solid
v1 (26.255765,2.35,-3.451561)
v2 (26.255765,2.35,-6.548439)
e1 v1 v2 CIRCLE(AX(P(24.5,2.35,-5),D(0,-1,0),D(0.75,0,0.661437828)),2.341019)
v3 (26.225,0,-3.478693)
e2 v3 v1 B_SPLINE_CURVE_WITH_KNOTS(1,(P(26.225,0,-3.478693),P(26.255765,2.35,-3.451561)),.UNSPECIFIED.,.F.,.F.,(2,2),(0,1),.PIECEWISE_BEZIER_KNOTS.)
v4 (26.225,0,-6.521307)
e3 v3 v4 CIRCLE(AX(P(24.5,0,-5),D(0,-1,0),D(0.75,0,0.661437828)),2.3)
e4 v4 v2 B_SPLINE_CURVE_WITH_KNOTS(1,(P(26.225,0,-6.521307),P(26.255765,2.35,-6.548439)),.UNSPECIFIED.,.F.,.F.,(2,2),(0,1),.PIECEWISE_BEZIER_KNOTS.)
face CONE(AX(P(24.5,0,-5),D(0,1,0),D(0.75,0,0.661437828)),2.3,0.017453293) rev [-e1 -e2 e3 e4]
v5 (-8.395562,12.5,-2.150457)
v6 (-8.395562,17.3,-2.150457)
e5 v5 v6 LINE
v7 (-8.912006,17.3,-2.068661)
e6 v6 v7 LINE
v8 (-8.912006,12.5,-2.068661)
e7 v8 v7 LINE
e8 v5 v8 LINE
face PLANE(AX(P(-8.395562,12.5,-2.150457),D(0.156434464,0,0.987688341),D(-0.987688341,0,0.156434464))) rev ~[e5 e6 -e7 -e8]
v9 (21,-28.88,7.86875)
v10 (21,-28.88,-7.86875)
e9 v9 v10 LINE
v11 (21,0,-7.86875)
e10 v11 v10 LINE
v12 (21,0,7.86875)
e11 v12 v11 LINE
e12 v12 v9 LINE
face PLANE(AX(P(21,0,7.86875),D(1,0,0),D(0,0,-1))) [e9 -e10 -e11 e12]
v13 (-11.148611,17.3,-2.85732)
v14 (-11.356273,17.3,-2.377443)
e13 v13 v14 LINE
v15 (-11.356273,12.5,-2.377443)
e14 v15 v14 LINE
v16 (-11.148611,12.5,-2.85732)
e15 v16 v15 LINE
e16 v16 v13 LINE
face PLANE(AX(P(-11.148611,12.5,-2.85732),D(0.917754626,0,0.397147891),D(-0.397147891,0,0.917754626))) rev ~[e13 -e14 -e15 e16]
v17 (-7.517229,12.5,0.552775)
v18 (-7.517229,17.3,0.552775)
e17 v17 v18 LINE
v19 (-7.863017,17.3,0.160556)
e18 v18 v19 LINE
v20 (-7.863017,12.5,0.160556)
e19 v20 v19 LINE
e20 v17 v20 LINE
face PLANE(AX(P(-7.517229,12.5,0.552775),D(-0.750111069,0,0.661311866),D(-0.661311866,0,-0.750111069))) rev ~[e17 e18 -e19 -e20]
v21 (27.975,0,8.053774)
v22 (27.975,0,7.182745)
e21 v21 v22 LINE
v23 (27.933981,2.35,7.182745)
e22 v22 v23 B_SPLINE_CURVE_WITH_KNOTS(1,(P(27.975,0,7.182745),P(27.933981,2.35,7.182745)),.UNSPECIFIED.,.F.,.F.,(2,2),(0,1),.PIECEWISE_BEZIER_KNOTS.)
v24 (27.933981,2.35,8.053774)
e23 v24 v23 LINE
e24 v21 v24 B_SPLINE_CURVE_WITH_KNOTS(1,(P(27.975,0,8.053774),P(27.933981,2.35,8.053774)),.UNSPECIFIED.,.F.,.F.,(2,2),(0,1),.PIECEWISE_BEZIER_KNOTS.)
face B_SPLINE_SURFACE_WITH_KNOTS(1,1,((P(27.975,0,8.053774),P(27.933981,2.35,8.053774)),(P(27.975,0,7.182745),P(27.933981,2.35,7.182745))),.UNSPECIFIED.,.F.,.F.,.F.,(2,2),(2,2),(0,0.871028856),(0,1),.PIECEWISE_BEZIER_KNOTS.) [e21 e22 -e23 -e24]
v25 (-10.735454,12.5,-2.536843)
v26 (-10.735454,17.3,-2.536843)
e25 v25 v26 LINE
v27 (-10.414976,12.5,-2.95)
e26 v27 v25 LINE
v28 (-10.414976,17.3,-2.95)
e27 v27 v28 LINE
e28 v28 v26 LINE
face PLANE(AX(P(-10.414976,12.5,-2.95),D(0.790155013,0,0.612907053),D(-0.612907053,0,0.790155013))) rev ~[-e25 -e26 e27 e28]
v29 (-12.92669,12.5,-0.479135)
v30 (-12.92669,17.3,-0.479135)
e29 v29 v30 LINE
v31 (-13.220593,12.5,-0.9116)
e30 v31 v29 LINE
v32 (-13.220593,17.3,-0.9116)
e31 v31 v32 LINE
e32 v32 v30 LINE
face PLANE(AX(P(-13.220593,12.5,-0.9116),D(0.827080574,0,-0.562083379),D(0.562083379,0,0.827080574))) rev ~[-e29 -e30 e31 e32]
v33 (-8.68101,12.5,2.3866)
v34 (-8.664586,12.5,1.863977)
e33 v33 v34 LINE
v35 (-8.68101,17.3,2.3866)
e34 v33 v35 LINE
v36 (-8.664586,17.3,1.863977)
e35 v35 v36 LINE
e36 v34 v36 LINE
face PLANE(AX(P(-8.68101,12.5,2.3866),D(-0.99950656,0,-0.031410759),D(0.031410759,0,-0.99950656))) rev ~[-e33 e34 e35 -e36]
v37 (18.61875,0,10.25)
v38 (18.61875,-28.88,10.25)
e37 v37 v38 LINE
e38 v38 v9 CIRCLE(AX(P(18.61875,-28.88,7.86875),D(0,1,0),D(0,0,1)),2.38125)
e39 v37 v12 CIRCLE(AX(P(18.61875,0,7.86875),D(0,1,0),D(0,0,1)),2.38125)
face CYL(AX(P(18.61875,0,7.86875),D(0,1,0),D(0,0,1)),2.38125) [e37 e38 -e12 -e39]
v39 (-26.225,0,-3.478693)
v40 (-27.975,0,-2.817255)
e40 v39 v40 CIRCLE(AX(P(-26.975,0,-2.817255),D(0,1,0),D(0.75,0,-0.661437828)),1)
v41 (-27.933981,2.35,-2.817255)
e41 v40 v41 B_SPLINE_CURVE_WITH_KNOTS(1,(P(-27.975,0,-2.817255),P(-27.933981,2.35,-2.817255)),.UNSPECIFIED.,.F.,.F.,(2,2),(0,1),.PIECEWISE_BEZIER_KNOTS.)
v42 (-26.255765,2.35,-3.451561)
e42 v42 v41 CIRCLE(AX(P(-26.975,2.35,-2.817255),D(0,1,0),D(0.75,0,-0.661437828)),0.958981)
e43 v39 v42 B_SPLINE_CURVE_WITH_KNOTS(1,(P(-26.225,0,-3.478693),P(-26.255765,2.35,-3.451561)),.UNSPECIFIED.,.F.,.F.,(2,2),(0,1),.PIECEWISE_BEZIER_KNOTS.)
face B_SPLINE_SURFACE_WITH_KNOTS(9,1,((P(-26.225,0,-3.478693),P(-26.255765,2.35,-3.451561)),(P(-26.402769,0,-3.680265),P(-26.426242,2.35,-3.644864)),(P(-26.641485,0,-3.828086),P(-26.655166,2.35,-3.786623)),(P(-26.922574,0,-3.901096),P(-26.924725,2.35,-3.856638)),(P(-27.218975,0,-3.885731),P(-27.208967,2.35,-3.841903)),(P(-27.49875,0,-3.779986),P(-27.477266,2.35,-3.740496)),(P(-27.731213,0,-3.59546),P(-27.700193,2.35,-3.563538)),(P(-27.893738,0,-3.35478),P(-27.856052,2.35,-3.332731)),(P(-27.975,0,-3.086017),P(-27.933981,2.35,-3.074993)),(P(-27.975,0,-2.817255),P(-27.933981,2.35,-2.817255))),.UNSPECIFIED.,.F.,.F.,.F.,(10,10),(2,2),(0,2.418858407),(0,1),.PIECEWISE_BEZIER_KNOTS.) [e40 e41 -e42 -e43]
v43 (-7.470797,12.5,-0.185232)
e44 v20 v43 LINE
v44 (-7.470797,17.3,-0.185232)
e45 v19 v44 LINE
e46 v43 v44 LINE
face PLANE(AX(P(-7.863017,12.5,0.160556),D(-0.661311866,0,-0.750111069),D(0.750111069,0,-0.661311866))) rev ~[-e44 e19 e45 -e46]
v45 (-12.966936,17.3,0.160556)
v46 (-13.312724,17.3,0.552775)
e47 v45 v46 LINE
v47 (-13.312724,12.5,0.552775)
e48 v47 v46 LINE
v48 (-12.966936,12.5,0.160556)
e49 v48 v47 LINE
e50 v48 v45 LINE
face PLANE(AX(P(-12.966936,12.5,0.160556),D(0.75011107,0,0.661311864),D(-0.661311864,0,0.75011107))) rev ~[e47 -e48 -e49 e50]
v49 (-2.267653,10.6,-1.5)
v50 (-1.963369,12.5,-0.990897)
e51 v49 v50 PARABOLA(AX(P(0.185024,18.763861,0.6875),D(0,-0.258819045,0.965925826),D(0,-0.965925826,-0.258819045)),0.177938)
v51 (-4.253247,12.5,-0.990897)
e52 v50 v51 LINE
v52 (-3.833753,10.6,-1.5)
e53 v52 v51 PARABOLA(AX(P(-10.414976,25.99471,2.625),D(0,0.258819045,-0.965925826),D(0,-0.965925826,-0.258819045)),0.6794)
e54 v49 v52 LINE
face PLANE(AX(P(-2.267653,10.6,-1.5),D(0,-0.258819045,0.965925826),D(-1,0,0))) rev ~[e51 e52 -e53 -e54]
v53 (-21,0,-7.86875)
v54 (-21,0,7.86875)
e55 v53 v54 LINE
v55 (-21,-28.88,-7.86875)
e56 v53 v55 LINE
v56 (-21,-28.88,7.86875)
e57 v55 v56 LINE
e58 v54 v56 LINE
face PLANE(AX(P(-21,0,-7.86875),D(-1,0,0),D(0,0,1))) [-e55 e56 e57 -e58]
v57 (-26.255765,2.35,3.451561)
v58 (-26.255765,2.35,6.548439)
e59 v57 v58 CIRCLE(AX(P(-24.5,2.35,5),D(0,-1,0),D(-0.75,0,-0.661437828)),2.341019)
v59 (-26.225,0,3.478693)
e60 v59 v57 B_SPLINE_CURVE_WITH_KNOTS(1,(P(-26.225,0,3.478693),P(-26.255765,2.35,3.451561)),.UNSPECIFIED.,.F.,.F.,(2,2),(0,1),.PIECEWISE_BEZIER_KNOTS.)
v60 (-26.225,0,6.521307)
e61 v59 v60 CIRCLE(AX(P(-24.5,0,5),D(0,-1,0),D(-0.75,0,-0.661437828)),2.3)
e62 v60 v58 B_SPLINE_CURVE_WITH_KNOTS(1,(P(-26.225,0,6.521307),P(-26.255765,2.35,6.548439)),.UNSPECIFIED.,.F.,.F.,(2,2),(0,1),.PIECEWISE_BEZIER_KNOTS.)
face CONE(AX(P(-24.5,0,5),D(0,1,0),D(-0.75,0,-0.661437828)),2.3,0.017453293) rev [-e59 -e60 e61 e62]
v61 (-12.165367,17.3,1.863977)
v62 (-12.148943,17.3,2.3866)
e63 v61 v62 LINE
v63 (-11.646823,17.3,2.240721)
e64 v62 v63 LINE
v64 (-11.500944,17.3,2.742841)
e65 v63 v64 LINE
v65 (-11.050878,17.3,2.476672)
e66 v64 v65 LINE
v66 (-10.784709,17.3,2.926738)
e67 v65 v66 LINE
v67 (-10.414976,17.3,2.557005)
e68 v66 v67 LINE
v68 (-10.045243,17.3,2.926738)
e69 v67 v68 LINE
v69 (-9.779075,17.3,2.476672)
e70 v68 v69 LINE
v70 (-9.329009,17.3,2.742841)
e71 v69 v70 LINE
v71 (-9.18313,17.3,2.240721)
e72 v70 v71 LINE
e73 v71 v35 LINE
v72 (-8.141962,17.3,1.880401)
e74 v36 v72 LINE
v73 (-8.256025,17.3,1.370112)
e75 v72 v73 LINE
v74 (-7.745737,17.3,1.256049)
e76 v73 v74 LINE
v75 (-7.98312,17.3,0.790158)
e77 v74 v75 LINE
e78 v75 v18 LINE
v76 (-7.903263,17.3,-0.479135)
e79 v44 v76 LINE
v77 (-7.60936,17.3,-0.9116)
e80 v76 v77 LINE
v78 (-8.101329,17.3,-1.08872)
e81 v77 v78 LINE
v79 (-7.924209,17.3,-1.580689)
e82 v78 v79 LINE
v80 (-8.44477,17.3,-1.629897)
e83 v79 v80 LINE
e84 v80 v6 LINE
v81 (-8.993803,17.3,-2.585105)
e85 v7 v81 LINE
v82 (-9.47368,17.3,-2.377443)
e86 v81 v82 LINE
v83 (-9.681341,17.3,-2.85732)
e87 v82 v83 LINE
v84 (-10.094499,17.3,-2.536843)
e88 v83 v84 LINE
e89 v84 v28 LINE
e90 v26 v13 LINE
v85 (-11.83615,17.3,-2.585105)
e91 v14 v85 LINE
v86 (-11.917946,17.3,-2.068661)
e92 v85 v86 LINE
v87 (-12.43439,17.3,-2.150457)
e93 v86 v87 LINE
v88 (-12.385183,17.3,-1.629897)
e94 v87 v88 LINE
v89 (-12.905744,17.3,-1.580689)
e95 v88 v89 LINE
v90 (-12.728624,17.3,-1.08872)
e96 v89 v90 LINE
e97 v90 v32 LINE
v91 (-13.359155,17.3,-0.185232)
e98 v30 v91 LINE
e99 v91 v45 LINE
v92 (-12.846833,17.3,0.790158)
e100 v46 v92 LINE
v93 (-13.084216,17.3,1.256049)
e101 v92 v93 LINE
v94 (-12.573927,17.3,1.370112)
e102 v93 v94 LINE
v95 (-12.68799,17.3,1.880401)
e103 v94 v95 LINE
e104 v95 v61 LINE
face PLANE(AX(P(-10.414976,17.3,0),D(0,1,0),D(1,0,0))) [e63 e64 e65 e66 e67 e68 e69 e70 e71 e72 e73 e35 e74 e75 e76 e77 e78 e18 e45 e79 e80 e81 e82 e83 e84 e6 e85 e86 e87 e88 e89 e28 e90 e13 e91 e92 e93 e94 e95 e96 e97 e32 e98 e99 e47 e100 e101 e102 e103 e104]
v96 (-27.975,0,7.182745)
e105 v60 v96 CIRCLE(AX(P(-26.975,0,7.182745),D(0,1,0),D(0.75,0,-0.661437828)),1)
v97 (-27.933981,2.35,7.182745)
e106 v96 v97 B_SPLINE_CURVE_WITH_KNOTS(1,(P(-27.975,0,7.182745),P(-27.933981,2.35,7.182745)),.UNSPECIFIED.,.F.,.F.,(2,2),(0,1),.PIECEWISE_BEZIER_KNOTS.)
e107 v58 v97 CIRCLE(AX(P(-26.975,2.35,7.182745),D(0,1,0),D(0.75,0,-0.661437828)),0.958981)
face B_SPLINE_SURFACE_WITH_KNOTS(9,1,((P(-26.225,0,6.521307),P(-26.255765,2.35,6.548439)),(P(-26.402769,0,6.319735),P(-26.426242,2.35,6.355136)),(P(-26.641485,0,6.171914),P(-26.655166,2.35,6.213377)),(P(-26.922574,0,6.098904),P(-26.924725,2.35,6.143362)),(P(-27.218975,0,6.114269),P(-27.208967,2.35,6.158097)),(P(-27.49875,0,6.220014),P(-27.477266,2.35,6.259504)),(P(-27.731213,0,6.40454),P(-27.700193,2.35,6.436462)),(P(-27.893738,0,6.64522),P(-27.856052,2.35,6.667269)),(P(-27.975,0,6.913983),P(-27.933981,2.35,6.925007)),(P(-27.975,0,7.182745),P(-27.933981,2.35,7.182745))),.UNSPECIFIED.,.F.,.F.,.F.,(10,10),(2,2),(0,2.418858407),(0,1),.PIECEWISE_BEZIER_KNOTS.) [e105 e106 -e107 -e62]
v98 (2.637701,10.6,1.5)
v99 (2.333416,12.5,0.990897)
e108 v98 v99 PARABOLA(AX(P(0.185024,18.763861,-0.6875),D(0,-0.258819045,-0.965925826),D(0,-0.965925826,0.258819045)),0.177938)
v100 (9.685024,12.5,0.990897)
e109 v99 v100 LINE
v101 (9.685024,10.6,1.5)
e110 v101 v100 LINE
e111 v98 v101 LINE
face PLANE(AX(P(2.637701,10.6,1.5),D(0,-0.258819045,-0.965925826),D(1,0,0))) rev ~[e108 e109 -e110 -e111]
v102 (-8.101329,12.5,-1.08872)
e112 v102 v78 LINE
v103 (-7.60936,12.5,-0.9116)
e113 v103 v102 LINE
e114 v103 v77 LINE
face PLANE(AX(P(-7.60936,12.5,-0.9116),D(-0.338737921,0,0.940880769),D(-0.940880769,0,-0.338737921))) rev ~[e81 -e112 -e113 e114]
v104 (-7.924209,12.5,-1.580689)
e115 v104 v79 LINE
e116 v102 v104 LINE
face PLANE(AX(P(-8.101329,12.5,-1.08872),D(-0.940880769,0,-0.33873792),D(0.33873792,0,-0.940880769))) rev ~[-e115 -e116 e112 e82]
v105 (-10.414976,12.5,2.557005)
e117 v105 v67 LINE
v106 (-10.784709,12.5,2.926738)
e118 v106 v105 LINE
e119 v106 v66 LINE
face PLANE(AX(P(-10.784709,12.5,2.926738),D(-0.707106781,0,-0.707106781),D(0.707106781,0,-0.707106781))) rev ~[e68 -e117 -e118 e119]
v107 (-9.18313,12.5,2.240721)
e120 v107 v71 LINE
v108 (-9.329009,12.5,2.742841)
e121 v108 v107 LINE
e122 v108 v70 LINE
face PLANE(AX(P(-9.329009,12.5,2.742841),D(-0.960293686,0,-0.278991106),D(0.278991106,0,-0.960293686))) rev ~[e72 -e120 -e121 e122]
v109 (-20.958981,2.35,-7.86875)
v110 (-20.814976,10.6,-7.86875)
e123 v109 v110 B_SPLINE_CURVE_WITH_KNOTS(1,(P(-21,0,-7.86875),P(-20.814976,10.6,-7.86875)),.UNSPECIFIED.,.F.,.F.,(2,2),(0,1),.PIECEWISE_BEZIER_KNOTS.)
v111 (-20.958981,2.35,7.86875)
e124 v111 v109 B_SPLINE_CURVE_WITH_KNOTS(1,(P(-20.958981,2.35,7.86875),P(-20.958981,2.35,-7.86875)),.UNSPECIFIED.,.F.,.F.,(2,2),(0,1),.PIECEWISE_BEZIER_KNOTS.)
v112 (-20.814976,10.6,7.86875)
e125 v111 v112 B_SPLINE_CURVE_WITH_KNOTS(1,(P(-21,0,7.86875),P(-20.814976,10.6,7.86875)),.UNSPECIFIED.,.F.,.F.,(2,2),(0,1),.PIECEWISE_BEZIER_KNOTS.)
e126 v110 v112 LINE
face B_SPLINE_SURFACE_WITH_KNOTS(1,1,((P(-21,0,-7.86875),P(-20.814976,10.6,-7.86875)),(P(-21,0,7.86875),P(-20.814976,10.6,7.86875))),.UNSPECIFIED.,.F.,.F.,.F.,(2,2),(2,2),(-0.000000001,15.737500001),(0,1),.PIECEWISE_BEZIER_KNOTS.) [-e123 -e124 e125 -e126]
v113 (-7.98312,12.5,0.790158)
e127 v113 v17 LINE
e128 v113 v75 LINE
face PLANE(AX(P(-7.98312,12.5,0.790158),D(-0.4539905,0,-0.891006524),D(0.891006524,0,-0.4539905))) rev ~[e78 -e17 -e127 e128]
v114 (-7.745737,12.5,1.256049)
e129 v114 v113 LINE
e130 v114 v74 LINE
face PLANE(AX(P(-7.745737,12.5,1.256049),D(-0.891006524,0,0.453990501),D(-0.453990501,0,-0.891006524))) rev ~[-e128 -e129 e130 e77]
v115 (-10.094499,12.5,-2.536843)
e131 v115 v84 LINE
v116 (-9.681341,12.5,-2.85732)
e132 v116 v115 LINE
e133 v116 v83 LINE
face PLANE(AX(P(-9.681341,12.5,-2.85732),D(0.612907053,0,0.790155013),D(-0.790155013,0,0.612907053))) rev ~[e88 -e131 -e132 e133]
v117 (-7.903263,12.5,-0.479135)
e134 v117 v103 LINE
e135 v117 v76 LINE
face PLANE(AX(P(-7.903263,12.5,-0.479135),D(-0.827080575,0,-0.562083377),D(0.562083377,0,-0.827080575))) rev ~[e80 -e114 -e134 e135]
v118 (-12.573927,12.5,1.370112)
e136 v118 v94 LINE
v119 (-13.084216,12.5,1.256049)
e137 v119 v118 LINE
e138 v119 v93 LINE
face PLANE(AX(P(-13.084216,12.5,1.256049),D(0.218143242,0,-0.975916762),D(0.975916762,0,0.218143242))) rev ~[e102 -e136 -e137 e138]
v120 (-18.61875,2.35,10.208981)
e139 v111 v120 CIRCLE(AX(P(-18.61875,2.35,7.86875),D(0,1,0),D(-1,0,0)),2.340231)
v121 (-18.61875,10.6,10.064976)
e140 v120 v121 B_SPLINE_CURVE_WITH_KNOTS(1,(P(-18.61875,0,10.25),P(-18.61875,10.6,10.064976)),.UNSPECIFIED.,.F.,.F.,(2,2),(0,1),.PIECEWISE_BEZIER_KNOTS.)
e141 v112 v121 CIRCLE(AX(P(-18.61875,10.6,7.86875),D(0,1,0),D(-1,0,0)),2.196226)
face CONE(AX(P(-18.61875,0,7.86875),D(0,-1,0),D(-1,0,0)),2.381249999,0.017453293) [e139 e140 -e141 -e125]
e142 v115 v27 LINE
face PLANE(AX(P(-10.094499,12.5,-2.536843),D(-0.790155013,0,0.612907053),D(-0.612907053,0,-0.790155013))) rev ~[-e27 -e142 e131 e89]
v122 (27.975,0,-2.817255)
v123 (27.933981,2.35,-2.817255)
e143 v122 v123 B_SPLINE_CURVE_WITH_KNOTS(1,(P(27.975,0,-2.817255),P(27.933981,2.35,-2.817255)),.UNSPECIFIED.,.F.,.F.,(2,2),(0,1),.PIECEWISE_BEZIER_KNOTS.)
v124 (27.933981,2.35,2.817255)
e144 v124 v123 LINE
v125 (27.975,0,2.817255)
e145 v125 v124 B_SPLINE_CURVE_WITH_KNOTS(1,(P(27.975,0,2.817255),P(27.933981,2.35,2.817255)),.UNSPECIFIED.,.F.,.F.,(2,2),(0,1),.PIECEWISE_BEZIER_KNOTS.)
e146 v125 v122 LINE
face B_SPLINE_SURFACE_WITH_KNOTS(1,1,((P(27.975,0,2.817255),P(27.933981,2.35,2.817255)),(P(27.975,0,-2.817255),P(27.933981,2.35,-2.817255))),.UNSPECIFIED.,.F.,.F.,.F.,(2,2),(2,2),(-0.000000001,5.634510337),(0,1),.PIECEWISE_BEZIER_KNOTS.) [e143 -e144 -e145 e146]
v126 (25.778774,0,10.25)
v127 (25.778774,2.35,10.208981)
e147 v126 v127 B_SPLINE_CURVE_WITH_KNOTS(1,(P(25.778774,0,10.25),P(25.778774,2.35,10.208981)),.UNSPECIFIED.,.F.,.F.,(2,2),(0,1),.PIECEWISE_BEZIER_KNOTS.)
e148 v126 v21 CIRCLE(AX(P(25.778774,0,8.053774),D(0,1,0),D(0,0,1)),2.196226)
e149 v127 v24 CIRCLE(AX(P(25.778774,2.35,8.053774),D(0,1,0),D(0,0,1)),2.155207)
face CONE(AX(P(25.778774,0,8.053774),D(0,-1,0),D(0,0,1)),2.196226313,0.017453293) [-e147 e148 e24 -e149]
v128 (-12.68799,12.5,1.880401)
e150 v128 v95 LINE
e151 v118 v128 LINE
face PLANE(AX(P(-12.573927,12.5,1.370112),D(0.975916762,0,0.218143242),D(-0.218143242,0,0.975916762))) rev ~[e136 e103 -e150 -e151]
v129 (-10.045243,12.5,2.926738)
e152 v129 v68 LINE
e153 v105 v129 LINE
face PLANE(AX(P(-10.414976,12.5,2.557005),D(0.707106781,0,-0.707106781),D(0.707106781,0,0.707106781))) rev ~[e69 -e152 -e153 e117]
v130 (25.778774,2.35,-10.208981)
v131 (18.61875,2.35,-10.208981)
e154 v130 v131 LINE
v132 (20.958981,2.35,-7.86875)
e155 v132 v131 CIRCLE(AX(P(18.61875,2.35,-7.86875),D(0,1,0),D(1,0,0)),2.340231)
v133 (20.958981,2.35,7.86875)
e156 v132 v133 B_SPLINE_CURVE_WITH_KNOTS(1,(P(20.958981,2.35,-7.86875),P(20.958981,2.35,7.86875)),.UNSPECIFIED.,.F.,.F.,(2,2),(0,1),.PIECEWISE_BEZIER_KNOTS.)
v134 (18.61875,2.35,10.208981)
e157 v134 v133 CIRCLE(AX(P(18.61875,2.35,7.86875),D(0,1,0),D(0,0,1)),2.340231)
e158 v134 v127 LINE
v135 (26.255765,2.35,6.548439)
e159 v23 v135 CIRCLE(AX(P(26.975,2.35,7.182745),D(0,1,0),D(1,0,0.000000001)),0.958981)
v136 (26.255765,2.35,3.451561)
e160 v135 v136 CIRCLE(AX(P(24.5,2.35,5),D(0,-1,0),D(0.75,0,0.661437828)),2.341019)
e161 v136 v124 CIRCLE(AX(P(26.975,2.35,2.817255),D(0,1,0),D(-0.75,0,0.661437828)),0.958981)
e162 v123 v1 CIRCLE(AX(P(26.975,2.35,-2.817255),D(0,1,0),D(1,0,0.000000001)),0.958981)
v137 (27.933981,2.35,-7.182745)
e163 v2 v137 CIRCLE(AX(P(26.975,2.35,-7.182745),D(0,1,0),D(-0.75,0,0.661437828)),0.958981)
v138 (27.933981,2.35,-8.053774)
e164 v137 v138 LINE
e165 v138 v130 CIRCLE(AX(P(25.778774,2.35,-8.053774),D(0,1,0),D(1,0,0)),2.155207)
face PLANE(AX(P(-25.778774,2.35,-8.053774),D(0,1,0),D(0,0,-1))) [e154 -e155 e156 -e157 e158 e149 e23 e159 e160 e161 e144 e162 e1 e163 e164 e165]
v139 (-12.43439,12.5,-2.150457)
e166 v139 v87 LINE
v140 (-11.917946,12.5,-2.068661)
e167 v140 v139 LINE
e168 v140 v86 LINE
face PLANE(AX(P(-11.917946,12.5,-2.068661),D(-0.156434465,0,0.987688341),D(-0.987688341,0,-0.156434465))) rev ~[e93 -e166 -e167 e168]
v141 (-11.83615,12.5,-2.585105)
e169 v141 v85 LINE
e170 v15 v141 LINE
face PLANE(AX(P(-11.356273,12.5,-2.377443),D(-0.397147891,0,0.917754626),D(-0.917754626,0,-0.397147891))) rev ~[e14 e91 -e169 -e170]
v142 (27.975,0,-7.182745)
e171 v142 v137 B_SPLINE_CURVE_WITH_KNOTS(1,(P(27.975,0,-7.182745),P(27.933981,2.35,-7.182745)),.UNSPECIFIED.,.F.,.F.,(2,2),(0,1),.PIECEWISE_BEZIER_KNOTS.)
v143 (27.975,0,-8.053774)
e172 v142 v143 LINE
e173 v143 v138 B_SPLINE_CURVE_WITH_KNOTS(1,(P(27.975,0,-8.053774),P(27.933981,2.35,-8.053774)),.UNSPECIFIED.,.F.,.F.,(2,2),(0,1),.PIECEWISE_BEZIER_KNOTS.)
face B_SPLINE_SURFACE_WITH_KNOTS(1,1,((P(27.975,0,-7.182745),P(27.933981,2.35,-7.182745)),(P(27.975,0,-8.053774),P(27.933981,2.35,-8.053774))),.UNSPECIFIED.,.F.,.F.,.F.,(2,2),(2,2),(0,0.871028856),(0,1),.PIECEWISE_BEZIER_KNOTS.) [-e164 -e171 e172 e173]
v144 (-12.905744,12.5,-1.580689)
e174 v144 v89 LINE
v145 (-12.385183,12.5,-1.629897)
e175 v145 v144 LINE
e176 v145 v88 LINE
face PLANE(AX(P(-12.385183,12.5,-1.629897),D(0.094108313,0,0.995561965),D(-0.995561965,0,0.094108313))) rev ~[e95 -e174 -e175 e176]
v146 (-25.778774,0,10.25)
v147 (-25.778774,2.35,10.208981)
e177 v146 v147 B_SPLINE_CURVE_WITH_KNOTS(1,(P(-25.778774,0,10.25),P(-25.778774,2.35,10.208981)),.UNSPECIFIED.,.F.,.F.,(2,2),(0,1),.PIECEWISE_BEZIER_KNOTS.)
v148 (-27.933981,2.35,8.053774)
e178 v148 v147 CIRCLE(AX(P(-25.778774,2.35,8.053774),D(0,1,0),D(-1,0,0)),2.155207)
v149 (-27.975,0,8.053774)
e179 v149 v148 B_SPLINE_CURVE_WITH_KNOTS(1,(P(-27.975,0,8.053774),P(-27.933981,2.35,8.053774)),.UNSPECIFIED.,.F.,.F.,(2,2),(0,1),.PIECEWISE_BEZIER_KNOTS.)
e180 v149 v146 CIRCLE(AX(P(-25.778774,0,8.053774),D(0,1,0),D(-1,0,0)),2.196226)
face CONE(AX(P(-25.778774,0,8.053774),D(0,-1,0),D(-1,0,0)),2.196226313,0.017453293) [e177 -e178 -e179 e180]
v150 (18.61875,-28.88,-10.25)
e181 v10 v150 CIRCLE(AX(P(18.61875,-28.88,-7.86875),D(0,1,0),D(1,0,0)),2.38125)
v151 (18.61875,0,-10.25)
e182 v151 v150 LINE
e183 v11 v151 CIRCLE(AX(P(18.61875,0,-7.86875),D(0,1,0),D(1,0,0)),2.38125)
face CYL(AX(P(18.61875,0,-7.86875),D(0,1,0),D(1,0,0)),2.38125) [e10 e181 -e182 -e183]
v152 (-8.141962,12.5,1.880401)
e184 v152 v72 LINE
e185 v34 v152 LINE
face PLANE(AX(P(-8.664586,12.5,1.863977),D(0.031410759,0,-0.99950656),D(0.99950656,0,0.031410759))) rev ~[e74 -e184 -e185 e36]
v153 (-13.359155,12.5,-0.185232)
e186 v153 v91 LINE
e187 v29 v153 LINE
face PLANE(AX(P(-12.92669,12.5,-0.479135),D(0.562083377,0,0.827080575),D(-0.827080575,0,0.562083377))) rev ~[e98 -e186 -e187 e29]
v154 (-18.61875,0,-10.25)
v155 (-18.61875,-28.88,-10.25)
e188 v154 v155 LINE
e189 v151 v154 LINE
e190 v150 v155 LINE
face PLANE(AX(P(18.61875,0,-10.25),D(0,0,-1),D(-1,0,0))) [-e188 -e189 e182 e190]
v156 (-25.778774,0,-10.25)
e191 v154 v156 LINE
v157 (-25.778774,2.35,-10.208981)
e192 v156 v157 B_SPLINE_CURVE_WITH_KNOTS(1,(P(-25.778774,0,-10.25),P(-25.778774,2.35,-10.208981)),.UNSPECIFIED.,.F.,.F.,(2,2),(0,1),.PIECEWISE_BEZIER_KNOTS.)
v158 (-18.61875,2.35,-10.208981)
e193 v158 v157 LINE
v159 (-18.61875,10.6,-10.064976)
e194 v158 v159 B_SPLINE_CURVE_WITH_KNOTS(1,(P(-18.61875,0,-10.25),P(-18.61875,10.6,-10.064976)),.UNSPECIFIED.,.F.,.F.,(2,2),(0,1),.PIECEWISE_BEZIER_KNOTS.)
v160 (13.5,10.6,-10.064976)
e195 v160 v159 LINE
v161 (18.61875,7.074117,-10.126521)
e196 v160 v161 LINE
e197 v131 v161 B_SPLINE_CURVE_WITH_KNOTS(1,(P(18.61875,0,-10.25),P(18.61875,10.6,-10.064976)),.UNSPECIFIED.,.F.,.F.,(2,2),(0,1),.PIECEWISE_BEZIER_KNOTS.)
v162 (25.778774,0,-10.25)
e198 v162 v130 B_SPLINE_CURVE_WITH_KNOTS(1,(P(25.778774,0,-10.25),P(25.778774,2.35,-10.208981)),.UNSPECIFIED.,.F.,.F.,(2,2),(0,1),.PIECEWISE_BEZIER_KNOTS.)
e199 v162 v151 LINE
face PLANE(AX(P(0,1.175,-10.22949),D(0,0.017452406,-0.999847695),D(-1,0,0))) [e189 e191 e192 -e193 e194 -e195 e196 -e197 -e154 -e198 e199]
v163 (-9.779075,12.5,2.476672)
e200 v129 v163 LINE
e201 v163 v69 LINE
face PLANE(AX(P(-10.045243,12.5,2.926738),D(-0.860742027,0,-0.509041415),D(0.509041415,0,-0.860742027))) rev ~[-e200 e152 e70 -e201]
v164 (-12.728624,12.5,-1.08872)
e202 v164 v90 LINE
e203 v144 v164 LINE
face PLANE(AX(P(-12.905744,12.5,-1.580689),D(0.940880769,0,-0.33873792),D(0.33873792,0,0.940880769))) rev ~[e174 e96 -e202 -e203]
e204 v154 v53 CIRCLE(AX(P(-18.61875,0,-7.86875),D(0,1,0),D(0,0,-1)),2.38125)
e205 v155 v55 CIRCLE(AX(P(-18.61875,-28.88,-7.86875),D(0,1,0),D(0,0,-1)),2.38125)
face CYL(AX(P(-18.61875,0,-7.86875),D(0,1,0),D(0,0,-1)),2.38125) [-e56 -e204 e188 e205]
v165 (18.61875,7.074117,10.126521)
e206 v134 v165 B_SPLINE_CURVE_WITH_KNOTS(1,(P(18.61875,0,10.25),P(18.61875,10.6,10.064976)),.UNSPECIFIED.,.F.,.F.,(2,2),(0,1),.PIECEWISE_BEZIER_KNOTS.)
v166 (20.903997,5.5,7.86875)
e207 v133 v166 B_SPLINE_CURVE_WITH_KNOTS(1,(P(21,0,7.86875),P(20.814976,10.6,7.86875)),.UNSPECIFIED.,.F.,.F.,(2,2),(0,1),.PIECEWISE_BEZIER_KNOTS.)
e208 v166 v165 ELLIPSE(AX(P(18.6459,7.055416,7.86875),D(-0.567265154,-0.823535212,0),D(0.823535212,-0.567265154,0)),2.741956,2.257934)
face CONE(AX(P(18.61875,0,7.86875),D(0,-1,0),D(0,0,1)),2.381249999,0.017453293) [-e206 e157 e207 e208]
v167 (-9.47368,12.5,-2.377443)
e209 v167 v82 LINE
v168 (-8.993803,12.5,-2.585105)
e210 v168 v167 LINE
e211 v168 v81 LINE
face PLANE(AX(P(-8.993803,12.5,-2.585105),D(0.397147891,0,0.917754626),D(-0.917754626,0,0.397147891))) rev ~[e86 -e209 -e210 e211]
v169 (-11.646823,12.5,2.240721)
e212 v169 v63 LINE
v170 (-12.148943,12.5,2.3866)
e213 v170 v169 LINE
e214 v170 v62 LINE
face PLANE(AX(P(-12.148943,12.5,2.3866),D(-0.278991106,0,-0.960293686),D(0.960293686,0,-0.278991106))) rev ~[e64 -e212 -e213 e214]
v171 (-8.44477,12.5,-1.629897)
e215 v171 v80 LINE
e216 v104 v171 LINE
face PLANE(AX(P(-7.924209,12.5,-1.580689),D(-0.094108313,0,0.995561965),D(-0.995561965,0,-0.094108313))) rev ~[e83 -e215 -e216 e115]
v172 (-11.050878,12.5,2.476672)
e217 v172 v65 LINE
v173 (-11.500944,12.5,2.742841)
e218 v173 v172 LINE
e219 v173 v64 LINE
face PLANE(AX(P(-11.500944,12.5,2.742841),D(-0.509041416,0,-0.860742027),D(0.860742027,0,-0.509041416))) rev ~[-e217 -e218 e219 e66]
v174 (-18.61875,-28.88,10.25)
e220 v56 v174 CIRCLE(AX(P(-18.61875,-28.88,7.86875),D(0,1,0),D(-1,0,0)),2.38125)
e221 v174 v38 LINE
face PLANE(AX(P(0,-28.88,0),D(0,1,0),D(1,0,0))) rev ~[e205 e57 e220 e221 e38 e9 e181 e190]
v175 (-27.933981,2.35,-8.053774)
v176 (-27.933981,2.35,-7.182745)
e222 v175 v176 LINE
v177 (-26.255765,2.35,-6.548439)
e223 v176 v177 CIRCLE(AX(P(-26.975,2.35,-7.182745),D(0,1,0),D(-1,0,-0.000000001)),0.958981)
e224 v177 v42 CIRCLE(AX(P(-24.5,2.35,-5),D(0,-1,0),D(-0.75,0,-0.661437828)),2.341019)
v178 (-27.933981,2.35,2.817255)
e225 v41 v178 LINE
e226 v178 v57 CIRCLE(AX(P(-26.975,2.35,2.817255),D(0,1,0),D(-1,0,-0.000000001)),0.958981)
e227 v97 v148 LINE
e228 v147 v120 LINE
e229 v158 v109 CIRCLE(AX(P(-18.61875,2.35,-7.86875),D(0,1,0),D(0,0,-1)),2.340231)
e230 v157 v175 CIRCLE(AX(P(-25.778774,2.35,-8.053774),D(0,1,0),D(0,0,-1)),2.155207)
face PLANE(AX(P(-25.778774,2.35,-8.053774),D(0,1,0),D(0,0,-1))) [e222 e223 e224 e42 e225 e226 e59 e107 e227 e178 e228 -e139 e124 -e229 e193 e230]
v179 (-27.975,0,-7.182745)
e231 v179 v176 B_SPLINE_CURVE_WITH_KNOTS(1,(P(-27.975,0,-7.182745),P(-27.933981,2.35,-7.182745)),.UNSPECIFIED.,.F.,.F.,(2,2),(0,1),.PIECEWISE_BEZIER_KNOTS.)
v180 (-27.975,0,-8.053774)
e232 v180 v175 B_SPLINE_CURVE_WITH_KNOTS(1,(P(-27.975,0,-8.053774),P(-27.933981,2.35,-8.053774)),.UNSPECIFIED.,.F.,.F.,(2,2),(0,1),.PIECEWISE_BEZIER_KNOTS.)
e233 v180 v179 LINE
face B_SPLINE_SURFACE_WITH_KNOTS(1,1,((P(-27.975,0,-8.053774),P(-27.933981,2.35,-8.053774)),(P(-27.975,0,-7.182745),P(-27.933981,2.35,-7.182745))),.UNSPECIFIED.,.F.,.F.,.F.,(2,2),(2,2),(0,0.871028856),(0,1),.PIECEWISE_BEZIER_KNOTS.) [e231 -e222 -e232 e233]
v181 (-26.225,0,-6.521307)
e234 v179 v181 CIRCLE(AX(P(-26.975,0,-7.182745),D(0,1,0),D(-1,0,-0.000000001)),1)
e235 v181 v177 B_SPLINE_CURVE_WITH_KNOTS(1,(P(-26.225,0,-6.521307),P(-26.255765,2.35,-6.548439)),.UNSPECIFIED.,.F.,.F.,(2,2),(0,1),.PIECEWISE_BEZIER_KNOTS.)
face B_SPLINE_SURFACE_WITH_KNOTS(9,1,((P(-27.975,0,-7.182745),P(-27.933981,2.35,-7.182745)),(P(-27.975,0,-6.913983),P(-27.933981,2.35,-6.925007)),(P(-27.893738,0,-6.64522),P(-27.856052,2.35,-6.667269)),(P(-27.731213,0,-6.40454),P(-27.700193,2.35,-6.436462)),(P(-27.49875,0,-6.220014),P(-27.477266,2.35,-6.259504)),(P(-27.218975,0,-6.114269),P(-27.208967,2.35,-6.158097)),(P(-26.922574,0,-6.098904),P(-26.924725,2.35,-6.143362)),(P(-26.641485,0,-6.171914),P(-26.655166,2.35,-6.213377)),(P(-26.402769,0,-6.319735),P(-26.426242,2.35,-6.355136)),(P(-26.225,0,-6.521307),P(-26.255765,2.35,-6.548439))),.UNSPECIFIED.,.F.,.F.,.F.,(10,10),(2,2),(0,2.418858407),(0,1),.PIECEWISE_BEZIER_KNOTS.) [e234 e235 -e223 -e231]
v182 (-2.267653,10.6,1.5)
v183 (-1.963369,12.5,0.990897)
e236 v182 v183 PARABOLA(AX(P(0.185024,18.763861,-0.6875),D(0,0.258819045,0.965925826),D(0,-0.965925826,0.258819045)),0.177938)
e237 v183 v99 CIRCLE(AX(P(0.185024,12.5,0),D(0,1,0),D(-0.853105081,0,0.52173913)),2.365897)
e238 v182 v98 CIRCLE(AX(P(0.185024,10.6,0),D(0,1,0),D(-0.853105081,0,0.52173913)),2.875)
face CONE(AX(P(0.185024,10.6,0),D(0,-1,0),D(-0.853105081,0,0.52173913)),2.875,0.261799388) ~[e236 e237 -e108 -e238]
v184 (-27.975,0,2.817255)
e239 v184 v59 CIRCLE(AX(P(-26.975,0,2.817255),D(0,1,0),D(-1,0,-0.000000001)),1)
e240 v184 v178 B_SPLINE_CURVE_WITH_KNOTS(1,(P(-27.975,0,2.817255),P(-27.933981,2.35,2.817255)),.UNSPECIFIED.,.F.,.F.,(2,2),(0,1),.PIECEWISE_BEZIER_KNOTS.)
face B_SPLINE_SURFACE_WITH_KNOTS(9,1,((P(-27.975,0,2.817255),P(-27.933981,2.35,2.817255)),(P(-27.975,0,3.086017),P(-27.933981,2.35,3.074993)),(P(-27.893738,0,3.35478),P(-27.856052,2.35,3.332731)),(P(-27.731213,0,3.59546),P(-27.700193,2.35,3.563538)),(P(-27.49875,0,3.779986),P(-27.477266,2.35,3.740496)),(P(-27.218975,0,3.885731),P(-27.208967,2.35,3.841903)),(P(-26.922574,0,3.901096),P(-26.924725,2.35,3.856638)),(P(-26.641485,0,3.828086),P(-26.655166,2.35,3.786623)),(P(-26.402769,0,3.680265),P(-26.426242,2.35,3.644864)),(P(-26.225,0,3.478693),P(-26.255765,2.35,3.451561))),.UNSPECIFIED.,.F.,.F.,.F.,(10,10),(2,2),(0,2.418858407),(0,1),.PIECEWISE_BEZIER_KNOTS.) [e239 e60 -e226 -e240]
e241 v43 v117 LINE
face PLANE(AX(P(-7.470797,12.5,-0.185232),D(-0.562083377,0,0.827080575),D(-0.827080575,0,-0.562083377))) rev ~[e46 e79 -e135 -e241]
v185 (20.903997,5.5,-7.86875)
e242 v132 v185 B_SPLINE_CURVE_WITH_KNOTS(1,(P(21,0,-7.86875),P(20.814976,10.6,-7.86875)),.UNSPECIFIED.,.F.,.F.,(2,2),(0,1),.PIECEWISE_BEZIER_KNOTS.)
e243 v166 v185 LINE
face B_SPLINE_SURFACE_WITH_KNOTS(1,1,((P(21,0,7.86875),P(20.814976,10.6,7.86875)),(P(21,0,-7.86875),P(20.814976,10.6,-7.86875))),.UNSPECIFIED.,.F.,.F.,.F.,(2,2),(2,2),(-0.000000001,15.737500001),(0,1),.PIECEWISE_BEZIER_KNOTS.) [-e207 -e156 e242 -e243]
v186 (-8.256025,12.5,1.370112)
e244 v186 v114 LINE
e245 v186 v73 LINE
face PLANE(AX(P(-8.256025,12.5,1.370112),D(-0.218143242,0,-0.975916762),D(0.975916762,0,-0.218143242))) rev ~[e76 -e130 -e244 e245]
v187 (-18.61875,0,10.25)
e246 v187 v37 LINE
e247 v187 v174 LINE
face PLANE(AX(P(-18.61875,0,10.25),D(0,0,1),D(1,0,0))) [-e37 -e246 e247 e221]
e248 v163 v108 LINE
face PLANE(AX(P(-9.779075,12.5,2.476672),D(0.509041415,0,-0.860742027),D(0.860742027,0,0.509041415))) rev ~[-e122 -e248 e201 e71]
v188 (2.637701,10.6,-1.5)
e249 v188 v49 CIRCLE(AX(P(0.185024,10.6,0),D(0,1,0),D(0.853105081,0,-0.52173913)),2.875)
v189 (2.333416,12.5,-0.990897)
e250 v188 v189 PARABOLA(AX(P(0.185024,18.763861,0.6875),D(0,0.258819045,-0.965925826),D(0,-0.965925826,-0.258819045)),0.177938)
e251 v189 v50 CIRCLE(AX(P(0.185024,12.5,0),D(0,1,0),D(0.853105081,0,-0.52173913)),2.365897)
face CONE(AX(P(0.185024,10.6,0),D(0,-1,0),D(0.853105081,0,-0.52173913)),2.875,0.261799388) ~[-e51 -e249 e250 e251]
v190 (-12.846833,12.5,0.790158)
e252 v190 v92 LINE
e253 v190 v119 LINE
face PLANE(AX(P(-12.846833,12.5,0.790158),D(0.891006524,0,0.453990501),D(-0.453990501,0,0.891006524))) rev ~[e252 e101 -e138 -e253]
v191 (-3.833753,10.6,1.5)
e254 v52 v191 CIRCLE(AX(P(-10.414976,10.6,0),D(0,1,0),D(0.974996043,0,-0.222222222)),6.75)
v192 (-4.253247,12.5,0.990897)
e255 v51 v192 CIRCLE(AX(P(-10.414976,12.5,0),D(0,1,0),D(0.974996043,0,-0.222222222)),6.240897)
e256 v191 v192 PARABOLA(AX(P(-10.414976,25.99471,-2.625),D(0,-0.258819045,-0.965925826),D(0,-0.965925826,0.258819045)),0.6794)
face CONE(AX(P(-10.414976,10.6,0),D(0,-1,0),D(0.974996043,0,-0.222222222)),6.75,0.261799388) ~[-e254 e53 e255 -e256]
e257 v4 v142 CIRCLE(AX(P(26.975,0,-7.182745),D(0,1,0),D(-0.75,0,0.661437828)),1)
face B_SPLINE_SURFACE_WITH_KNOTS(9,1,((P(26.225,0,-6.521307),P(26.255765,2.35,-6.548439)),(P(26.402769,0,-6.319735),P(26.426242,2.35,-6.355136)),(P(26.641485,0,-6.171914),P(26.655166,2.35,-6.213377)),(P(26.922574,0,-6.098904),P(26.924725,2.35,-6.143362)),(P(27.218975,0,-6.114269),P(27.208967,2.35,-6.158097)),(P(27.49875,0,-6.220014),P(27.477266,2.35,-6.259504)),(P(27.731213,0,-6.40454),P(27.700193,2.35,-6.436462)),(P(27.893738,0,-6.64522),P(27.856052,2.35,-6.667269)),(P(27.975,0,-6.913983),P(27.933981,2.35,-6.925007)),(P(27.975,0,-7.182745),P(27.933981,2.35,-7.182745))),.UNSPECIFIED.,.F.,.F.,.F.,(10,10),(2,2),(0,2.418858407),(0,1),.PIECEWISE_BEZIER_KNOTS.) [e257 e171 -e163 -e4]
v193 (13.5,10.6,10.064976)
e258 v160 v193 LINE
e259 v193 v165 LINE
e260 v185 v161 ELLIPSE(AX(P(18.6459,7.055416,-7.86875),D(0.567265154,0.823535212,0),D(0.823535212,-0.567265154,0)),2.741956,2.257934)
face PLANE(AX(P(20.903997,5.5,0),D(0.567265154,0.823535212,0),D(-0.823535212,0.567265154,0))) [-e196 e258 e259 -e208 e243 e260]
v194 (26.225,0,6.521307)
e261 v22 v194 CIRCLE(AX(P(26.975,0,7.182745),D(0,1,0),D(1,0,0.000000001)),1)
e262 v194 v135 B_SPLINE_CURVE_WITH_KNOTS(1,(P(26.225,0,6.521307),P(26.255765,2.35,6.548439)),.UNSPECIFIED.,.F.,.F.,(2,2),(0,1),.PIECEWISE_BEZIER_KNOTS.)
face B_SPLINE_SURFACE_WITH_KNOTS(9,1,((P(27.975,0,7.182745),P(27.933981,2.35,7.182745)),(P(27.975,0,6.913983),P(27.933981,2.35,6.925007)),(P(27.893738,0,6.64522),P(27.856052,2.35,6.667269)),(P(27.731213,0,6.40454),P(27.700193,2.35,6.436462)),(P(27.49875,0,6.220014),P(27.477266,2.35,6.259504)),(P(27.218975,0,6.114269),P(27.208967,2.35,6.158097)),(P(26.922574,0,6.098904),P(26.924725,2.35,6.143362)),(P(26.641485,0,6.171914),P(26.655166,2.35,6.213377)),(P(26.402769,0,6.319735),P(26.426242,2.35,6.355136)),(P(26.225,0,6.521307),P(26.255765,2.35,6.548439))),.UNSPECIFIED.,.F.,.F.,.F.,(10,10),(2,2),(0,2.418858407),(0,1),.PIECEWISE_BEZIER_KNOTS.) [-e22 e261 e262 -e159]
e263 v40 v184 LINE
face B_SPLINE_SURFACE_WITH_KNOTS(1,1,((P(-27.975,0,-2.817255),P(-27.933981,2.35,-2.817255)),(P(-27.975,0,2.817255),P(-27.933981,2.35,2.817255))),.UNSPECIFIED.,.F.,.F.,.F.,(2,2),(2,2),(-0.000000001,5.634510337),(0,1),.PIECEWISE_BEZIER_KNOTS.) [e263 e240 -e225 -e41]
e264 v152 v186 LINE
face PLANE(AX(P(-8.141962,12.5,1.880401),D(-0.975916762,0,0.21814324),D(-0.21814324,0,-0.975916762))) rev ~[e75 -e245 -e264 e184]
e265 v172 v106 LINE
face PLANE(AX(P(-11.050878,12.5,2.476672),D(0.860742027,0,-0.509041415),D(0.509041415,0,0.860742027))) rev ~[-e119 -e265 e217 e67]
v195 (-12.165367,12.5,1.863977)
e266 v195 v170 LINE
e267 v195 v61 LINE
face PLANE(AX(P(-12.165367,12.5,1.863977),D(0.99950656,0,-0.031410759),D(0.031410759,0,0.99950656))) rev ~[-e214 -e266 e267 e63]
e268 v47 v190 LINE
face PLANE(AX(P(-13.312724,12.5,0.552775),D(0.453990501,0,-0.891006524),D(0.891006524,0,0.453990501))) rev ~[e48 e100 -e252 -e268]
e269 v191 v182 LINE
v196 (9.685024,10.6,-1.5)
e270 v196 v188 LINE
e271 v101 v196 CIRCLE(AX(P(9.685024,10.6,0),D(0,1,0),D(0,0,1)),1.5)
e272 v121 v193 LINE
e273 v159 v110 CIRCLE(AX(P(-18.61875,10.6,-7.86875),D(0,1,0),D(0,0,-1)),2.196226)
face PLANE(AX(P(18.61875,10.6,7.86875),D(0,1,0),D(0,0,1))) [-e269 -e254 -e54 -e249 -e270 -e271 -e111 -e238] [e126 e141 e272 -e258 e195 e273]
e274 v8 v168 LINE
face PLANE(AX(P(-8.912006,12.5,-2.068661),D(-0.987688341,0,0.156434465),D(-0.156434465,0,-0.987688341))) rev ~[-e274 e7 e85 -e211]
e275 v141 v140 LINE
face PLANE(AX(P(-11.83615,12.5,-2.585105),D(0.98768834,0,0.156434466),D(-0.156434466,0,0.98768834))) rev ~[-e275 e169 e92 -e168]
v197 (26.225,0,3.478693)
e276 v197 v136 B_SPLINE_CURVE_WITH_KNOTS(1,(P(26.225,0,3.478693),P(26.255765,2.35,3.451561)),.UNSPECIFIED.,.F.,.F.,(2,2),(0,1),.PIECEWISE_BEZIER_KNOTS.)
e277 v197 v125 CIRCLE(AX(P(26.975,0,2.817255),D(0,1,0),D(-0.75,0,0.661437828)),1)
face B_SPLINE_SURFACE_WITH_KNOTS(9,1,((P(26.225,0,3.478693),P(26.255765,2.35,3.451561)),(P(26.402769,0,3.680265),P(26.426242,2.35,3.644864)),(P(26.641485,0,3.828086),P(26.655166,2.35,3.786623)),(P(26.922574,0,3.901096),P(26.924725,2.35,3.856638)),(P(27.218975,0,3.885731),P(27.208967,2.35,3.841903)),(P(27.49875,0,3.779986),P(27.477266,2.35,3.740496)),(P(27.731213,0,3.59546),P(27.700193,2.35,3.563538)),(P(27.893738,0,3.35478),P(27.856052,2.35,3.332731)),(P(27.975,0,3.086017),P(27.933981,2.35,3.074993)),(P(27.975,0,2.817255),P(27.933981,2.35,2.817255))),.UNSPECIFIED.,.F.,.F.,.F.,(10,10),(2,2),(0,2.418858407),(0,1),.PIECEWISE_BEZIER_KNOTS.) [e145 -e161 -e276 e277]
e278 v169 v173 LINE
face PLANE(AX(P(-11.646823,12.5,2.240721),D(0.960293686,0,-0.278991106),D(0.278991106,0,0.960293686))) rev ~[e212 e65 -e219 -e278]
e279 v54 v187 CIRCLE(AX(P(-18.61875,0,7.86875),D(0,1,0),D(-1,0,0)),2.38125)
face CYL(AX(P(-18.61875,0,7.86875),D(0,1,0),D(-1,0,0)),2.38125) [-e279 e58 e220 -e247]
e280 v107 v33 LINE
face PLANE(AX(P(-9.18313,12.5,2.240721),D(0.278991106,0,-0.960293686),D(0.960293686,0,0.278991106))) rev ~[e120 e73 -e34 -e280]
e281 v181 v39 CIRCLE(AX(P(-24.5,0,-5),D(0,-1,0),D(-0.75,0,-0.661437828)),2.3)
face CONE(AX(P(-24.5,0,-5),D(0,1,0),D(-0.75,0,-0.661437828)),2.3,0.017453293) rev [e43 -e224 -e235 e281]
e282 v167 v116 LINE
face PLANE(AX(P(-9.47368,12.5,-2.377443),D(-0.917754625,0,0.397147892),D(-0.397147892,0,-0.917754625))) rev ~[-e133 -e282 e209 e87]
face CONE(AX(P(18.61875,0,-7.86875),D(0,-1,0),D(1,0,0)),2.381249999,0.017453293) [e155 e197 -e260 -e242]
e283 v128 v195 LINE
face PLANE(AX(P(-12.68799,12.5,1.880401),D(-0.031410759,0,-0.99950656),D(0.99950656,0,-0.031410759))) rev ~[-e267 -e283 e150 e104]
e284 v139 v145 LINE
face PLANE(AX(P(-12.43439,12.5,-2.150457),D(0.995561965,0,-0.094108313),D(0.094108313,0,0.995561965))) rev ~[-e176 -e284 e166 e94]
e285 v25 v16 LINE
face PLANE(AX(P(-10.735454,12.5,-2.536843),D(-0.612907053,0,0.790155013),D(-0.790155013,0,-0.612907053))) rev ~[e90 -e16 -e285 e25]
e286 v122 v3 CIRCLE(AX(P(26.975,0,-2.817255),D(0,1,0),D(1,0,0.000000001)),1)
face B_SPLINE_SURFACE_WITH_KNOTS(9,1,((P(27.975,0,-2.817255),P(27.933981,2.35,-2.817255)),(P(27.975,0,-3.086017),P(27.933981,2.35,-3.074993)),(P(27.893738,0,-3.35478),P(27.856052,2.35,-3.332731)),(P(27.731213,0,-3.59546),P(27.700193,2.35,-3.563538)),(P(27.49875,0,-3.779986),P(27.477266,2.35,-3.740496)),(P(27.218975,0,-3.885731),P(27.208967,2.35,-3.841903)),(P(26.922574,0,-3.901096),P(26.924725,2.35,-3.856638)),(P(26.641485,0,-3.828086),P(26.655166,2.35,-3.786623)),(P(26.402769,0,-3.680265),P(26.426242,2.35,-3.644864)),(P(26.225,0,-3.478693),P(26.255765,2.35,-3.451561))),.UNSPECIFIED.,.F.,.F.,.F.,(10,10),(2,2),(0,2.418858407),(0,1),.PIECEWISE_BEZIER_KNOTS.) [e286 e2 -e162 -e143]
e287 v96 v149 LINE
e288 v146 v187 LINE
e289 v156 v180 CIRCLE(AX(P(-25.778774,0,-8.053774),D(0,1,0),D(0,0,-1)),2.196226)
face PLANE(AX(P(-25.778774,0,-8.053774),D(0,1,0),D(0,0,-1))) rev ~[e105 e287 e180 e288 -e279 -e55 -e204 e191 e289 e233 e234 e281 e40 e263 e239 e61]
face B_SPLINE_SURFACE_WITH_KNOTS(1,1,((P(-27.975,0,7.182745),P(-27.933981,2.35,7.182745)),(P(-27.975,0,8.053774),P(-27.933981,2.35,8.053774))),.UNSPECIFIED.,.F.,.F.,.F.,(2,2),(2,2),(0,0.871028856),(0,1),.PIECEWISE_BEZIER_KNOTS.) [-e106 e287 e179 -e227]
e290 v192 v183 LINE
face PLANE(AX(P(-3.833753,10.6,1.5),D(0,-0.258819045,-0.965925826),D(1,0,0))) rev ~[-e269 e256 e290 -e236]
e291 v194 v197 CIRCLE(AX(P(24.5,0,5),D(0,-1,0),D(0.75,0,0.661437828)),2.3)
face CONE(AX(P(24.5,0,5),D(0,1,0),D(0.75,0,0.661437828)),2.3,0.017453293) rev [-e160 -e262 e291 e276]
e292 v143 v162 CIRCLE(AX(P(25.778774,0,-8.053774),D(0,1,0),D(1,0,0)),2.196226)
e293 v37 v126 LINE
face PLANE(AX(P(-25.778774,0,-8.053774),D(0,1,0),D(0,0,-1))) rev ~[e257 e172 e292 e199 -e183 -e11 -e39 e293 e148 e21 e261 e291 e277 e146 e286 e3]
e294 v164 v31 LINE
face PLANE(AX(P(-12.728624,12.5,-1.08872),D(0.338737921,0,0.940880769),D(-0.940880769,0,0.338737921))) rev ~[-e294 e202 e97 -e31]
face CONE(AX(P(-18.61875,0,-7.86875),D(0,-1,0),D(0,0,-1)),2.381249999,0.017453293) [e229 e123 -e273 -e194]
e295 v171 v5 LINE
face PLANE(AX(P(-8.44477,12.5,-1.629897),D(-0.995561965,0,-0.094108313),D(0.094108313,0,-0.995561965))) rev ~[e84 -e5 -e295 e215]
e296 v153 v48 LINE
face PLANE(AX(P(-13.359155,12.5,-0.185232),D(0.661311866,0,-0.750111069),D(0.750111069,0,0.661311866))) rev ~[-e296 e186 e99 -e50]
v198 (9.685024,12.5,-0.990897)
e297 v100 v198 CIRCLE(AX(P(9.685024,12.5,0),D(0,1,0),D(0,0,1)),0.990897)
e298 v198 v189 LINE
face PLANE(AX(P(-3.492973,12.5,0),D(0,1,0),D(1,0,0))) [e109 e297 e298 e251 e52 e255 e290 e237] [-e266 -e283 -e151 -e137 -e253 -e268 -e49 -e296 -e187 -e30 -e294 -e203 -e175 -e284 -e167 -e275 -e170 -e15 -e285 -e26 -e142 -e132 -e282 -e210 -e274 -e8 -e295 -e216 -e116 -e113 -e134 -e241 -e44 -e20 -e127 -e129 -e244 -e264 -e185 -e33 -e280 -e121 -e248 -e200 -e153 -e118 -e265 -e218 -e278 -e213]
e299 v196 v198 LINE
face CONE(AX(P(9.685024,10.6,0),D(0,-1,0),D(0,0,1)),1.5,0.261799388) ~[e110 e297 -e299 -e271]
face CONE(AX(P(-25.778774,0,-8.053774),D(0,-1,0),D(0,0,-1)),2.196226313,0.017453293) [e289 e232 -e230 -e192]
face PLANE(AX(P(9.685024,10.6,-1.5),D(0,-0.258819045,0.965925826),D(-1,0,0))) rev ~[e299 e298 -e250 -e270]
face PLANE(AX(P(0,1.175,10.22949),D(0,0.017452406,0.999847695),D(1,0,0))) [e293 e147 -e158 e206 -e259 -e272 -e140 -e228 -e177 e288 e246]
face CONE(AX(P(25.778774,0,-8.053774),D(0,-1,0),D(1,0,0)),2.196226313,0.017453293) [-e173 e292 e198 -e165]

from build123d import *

# Parameters (mm, degrees)
BOSS_EXTRUDE1_DEPTH     = 28.88
BOSS_EXTRUDE2_DEPTH     = 10.6
BOSS_EXTRUDE2_TAPER     = 1
BOSS_EXTRUDE3_DEPTH     = 2.35
BOSS_EXTRUDE3_TAPER     = 1
CUT_EXTRUDE1_DEPTH      = 42.493584235
CUT_EXTRUDE1_DEPTH_BACK = 42.493584235
BOSS_EXTRUDE4_DEPTH     = 1.9
BOSS_EXTRUDE4_DRAFT     = 15
SKETCH5_R               = 2.95
BOSS_EXTRUDE5_DEPTH     = 4.8
SKETCH6_OUTSIDE_W       = 73.028
SKETCH6_OUTSIDE_H       = 37.578
CUT_EXTRUDE2_DEPTH      = 4.8


with BuildPart() as part:
    # Sketch1 → Boss-Extrude1 (new body)
    with BuildSketch(Plane(origin=(0, 0, 0), x_dir=(1, 0, 0), z_dir=(0, 1, 0))):
        with BuildLine():
            Line((-18.61875, -10.25), (18.61875, -10.25))
            ThreePointArc((18.61875, -10.25), (20.302548023, -9.552548023), (21, -7.86875))
            Line((21, -7.86875), (21, 7.86875))
            ThreePointArc((21, 7.86875), (20.302548023, 9.552548023), (18.61875, 10.25))
            Line((18.61875, 10.25), (-18.61875, 10.25))
            ThreePointArc((-18.61875, 10.25), (-20.302548023, 9.552548023), (-21, 7.86875))
            Line((-21, 7.86875), (-21, -7.86875))
            ThreePointArc((-21, -7.86875), (-20.302548023, -9.552548023), (-18.61875, -10.25))
        make_face()
    extrude(amount=-BOSS_EXTRUDE1_DEPTH)

    # Sketch1<2> → Boss-Extrude2 (add)
    with BuildSketch(Plane(origin=(0, 0, 0), x_dir=(1, 0, 0), z_dir=(0, 1, 0))):
        with BuildLine():
            Line((-18.61875, -10.25), (18.61875, -10.25))
            ThreePointArc((18.61875, -10.25), (20.302548023, -9.552548023), (21, -7.86875))
            Line((21, -7.86875), (21, 7.86875))
            ThreePointArc((21, 7.86875), (20.302548023, 9.552548023), (18.61875, 10.25))
            Line((18.61875, 10.25), (-18.61875, 10.25))
            ThreePointArc((-18.61875, 10.25), (-20.302548023, 9.552548023), (-21, 7.86875))
            Line((-21, 7.86875), (-21, -7.86875))
            ThreePointArc((-21, -7.86875), (-20.302548023, -9.552548023), (-18.61875, -10.25))
        make_face()
    extrude(amount=BOSS_EXTRUDE2_DEPTH, taper=BOSS_EXTRUDE2_TAPER)

    # Sketch2 → Boss-Extrude3 (add)
    with BuildSketch(Plane(origin=(0, 0, 0), x_dir=(1, 0, 0), z_dir=(0, 1, 0))):
        with BuildLine():
            ThreePointArc((-25.778773688, 10.25), (-27.331740206, 9.606740206), (-27.975, 8.053773688))
            Line((-27.975, 8.053773688), (-27.975, 7.182744832))
            ThreePointArc((-27.975, 7.182744832), (-27.328553391, 6.247330485), (-26.225, 6.521307004))
            ThreePointArc((-26.225, 6.521307004), (-22.2, 5), (-26.225, 3.478692996))
            ThreePointArc((-26.225, 3.478692996), (-27.328553391, 3.752669515), (-27.975, 2.817255168))
            Line((-27.975, 2.817255168), (-27.975, -2.817255168))
            ThreePointArc((-27.975, -2.817255168), (-27.328553391, -3.752669515), (-26.225, -3.478692996))
            ThreePointArc((-26.225, -3.478692996), (-22.2, -5), (-26.225, -6.521307004))
            ThreePointArc((-26.225, -6.521307004), (-27.328553391, -6.247330485), (-27.975, -7.182744832))
            Line((-27.975, -7.182744832), (-27.975, -8.053773688))
            ThreePointArc((-27.975, -8.053773688), (-27.331740206, -9.606740206), (-25.778773688, -10.25))
            Line((-25.778773688, -10.25), (25.778773688, -10.25))
            ThreePointArc((25.778773688, -10.25), (27.331740206, -9.606740206), (27.975, -8.053773688))
            Line((27.975, -8.053773688), (27.975, -7.182744832))
            ThreePointArc((27.975, -7.182744832), (27.328553391, -6.247330485), (26.225, -6.521307004))
            ThreePointArc((26.225, -6.521307004), (22.2, -5), (26.225, -3.478692996))
            ThreePointArc((26.225, -3.478692996), (27.328553391, -3.752669515), (27.975, -2.817255168))
            Line((27.975, -2.817255168), (27.975, 2.817255168))
            ThreePointArc((27.975, 2.817255168), (27.328553391, 3.752669515), (26.225, 3.478692996))
            ThreePointArc((26.225, 3.478692996), (22.2, 5), (26.225, 6.521307004))
            ThreePointArc((26.225, 6.521307004), (27.328553391, 6.247330485), (27.975, 7.182744832))
            Line((27.975, 7.182744832), (27.975, 8.053773688))
            ThreePointArc((27.975, 8.053773688), (27.331740206, 9.606740206), (25.778773688, 10.25))
            Line((25.778773688, 10.25), (-25.778773688, 10.25))
        make_face()
    extrude(amount=BOSS_EXTRUDE3_DEPTH, taper=BOSS_EXTRUDE3_TAPER)

    # Sketch3 → Cut-Extrude1 (cut, two sides: drawn at the far end of the back side and taken through both)
    with BuildSketch(Plane.XY.offset(-CUT_EXTRUDE1_DEPTH_BACK)):
        Polygon((20.903997143, 5.5), (13.5, 10.6), (20.814976312, 10.6), align=None)
    extrude(amount=CUT_EXTRUDE1_DEPTH + CUT_EXTRUDE1_DEPTH_BACK, mode=Mode.SUBTRACT)


with BuildPart() as boss_extrude4_tool:
    # Sketch4 → Boss-Extrude4 (with draft: the straight prism first)
    with BuildSketch(Plane(origin=(0, 10.6, 0), x_dir=(1, 0, 0), z_dir=(0, 1, 0))):
        with BuildLine():
            Line((-3.833753021, -1.5), (-2.267653421, -1.5))
            ThreePointArc((-2.267653421, -1.5), (0.185023688, -2.875), (2.637700797, -1.5))
            Line((2.637700797, -1.5), (9.685023688, -1.5))
            ThreePointArc((9.685023688, -1.5), (11.185023688, 0), (9.685023688, 1.5))
            Line((9.685023688, 1.5), (2.637700797, 1.5))
            ThreePointArc((2.637700797, 1.5), (0.185023688, 2.875), (-2.267653421, 1.5))
            Line((-2.267653421, 1.5), (-3.833753021, 1.5))
            ThreePointArc((-3.833753021, 1.5), (-17.164976312, 0), (-3.833753021, -1.5))
        make_face()
    extrude(amount=BOSS_EXTRUDE4_DEPTH)
    # Boss-Extrude4: the draft: its side faces are tilted about the plane it starts from
    boss_extrude4_sides = [boss_extrude4_tool.faces().sort_by_distance(p)[0] for p in [
        (-3.050703221, 11.55, 1.5),
        (0.185023688, 11.55, 2.875),
        (6.161362243, 11.55, 1.5),
        (11.185023688, 11.55, 0),
        (6.161362243, 11.55, -1.5),
        (0.185023688, 11.55, -2.875),
        (-3.050703221, 11.55, -1.5),
        (-17.164976312, 11.55, 0),
    ]]
    draft(boss_extrude4_sides, Plane(origin=(0, 10.6, 0), x_dir=(1, 0, 0), z_dir=(0, 1, 0)), BOSS_EXTRUDE4_DRAFT)


with BuildPart() as part_1:
    add(part.part)

    # Boss-Extrude4: add boss_extrude4_tool
    add(boss_extrude4_tool.part)

    # Sketch5 → Boss-Extrude5 (add)
    with BuildSketch(Plane(origin=(0, 12.5, 0), x_dir=(1, 0, 0), z_dir=(0, 1, 0))):
        with Locations((-10.414976312, 0)):
            Circle(SKETCH5_R)
    extrude(amount=BOSS_EXTRUDE5_DEPTH)

    # Sketch6 outside → Cut-Extrude2 (cut)
    with BuildSketch(Plane(origin=(0, 12.5, 0), x_dir=(1, 0, 0), z_dir=(0, 1, 0))):
        Rectangle(SKETCH6_OUTSIDE_W, SKETCH6_OUTSIDE_H)
        Polygon((-9.183129599, -2.240720851), (-8.681009817, -2.386600133), (-8.664585713, -1.863976666), (-8.141962246, -1.88040077), (-8.256025306, -1.370111971), (-7.745736507, -1.25604891), (-7.983119731, -0.790158102), (-7.517228922, -0.552774878), (-7.863016648, -0.160555693), (-7.470797463, 0.185232033), (-7.903262576, 0.47913502), (-7.609359589, 0.911600133), (-8.101328716, 1.088719918), (-7.924208932, 1.580689045), (-8.444769843, 1.629896539), (-8.395562349, 2.150457451), (-8.912006289, 2.068660767), (-8.993802973, 2.585104706), (-9.473679868, 2.37744343), (-9.681341145, 2.857320325), (-10.094498566, 2.536842579), (-10.414976312, 2.95), (-10.735454058, 2.536842579), (-11.148611479, 2.857320325), (-11.356272755, 2.37744343), (-11.83614965, 2.585104706), (-11.917946335, 2.068660767), (-12.434390274, 2.150457451), (-12.38518278, 1.629896539), (-12.905743692, 1.580689045), (-12.728623908, 1.088719918), (-13.220593035, 0.911600133), (-12.926690047, 0.47913502), (-13.359155161, 0.185232033), (-12.966935976, -0.160555693), (-13.312723701, -0.552774878), (-12.846832893, -0.790158102), (-13.084216117, -1.25604891), (-12.573927317, -1.370111971), (-12.687990378, -1.88040077), (-12.16536691, -1.863976666), (-12.148942806, -2.386600133), (-11.646823024, -2.240720851), (-11.500943742, -2.742840633), (-11.050877679, -2.476672305), (-10.784709351, -2.926738369), (-10.414976312, -2.55700533), (-10.045243273, -2.926738369), (-9.779074945, -2.476672305), (-9.329008881, -2.742840633), align=None, mode=Mode.SUBTRACT)
    extrude(amount=CUT_EXTRUDE2_DEPTH, mode=Mode.SUBTRACT)


solid = part_1.part
